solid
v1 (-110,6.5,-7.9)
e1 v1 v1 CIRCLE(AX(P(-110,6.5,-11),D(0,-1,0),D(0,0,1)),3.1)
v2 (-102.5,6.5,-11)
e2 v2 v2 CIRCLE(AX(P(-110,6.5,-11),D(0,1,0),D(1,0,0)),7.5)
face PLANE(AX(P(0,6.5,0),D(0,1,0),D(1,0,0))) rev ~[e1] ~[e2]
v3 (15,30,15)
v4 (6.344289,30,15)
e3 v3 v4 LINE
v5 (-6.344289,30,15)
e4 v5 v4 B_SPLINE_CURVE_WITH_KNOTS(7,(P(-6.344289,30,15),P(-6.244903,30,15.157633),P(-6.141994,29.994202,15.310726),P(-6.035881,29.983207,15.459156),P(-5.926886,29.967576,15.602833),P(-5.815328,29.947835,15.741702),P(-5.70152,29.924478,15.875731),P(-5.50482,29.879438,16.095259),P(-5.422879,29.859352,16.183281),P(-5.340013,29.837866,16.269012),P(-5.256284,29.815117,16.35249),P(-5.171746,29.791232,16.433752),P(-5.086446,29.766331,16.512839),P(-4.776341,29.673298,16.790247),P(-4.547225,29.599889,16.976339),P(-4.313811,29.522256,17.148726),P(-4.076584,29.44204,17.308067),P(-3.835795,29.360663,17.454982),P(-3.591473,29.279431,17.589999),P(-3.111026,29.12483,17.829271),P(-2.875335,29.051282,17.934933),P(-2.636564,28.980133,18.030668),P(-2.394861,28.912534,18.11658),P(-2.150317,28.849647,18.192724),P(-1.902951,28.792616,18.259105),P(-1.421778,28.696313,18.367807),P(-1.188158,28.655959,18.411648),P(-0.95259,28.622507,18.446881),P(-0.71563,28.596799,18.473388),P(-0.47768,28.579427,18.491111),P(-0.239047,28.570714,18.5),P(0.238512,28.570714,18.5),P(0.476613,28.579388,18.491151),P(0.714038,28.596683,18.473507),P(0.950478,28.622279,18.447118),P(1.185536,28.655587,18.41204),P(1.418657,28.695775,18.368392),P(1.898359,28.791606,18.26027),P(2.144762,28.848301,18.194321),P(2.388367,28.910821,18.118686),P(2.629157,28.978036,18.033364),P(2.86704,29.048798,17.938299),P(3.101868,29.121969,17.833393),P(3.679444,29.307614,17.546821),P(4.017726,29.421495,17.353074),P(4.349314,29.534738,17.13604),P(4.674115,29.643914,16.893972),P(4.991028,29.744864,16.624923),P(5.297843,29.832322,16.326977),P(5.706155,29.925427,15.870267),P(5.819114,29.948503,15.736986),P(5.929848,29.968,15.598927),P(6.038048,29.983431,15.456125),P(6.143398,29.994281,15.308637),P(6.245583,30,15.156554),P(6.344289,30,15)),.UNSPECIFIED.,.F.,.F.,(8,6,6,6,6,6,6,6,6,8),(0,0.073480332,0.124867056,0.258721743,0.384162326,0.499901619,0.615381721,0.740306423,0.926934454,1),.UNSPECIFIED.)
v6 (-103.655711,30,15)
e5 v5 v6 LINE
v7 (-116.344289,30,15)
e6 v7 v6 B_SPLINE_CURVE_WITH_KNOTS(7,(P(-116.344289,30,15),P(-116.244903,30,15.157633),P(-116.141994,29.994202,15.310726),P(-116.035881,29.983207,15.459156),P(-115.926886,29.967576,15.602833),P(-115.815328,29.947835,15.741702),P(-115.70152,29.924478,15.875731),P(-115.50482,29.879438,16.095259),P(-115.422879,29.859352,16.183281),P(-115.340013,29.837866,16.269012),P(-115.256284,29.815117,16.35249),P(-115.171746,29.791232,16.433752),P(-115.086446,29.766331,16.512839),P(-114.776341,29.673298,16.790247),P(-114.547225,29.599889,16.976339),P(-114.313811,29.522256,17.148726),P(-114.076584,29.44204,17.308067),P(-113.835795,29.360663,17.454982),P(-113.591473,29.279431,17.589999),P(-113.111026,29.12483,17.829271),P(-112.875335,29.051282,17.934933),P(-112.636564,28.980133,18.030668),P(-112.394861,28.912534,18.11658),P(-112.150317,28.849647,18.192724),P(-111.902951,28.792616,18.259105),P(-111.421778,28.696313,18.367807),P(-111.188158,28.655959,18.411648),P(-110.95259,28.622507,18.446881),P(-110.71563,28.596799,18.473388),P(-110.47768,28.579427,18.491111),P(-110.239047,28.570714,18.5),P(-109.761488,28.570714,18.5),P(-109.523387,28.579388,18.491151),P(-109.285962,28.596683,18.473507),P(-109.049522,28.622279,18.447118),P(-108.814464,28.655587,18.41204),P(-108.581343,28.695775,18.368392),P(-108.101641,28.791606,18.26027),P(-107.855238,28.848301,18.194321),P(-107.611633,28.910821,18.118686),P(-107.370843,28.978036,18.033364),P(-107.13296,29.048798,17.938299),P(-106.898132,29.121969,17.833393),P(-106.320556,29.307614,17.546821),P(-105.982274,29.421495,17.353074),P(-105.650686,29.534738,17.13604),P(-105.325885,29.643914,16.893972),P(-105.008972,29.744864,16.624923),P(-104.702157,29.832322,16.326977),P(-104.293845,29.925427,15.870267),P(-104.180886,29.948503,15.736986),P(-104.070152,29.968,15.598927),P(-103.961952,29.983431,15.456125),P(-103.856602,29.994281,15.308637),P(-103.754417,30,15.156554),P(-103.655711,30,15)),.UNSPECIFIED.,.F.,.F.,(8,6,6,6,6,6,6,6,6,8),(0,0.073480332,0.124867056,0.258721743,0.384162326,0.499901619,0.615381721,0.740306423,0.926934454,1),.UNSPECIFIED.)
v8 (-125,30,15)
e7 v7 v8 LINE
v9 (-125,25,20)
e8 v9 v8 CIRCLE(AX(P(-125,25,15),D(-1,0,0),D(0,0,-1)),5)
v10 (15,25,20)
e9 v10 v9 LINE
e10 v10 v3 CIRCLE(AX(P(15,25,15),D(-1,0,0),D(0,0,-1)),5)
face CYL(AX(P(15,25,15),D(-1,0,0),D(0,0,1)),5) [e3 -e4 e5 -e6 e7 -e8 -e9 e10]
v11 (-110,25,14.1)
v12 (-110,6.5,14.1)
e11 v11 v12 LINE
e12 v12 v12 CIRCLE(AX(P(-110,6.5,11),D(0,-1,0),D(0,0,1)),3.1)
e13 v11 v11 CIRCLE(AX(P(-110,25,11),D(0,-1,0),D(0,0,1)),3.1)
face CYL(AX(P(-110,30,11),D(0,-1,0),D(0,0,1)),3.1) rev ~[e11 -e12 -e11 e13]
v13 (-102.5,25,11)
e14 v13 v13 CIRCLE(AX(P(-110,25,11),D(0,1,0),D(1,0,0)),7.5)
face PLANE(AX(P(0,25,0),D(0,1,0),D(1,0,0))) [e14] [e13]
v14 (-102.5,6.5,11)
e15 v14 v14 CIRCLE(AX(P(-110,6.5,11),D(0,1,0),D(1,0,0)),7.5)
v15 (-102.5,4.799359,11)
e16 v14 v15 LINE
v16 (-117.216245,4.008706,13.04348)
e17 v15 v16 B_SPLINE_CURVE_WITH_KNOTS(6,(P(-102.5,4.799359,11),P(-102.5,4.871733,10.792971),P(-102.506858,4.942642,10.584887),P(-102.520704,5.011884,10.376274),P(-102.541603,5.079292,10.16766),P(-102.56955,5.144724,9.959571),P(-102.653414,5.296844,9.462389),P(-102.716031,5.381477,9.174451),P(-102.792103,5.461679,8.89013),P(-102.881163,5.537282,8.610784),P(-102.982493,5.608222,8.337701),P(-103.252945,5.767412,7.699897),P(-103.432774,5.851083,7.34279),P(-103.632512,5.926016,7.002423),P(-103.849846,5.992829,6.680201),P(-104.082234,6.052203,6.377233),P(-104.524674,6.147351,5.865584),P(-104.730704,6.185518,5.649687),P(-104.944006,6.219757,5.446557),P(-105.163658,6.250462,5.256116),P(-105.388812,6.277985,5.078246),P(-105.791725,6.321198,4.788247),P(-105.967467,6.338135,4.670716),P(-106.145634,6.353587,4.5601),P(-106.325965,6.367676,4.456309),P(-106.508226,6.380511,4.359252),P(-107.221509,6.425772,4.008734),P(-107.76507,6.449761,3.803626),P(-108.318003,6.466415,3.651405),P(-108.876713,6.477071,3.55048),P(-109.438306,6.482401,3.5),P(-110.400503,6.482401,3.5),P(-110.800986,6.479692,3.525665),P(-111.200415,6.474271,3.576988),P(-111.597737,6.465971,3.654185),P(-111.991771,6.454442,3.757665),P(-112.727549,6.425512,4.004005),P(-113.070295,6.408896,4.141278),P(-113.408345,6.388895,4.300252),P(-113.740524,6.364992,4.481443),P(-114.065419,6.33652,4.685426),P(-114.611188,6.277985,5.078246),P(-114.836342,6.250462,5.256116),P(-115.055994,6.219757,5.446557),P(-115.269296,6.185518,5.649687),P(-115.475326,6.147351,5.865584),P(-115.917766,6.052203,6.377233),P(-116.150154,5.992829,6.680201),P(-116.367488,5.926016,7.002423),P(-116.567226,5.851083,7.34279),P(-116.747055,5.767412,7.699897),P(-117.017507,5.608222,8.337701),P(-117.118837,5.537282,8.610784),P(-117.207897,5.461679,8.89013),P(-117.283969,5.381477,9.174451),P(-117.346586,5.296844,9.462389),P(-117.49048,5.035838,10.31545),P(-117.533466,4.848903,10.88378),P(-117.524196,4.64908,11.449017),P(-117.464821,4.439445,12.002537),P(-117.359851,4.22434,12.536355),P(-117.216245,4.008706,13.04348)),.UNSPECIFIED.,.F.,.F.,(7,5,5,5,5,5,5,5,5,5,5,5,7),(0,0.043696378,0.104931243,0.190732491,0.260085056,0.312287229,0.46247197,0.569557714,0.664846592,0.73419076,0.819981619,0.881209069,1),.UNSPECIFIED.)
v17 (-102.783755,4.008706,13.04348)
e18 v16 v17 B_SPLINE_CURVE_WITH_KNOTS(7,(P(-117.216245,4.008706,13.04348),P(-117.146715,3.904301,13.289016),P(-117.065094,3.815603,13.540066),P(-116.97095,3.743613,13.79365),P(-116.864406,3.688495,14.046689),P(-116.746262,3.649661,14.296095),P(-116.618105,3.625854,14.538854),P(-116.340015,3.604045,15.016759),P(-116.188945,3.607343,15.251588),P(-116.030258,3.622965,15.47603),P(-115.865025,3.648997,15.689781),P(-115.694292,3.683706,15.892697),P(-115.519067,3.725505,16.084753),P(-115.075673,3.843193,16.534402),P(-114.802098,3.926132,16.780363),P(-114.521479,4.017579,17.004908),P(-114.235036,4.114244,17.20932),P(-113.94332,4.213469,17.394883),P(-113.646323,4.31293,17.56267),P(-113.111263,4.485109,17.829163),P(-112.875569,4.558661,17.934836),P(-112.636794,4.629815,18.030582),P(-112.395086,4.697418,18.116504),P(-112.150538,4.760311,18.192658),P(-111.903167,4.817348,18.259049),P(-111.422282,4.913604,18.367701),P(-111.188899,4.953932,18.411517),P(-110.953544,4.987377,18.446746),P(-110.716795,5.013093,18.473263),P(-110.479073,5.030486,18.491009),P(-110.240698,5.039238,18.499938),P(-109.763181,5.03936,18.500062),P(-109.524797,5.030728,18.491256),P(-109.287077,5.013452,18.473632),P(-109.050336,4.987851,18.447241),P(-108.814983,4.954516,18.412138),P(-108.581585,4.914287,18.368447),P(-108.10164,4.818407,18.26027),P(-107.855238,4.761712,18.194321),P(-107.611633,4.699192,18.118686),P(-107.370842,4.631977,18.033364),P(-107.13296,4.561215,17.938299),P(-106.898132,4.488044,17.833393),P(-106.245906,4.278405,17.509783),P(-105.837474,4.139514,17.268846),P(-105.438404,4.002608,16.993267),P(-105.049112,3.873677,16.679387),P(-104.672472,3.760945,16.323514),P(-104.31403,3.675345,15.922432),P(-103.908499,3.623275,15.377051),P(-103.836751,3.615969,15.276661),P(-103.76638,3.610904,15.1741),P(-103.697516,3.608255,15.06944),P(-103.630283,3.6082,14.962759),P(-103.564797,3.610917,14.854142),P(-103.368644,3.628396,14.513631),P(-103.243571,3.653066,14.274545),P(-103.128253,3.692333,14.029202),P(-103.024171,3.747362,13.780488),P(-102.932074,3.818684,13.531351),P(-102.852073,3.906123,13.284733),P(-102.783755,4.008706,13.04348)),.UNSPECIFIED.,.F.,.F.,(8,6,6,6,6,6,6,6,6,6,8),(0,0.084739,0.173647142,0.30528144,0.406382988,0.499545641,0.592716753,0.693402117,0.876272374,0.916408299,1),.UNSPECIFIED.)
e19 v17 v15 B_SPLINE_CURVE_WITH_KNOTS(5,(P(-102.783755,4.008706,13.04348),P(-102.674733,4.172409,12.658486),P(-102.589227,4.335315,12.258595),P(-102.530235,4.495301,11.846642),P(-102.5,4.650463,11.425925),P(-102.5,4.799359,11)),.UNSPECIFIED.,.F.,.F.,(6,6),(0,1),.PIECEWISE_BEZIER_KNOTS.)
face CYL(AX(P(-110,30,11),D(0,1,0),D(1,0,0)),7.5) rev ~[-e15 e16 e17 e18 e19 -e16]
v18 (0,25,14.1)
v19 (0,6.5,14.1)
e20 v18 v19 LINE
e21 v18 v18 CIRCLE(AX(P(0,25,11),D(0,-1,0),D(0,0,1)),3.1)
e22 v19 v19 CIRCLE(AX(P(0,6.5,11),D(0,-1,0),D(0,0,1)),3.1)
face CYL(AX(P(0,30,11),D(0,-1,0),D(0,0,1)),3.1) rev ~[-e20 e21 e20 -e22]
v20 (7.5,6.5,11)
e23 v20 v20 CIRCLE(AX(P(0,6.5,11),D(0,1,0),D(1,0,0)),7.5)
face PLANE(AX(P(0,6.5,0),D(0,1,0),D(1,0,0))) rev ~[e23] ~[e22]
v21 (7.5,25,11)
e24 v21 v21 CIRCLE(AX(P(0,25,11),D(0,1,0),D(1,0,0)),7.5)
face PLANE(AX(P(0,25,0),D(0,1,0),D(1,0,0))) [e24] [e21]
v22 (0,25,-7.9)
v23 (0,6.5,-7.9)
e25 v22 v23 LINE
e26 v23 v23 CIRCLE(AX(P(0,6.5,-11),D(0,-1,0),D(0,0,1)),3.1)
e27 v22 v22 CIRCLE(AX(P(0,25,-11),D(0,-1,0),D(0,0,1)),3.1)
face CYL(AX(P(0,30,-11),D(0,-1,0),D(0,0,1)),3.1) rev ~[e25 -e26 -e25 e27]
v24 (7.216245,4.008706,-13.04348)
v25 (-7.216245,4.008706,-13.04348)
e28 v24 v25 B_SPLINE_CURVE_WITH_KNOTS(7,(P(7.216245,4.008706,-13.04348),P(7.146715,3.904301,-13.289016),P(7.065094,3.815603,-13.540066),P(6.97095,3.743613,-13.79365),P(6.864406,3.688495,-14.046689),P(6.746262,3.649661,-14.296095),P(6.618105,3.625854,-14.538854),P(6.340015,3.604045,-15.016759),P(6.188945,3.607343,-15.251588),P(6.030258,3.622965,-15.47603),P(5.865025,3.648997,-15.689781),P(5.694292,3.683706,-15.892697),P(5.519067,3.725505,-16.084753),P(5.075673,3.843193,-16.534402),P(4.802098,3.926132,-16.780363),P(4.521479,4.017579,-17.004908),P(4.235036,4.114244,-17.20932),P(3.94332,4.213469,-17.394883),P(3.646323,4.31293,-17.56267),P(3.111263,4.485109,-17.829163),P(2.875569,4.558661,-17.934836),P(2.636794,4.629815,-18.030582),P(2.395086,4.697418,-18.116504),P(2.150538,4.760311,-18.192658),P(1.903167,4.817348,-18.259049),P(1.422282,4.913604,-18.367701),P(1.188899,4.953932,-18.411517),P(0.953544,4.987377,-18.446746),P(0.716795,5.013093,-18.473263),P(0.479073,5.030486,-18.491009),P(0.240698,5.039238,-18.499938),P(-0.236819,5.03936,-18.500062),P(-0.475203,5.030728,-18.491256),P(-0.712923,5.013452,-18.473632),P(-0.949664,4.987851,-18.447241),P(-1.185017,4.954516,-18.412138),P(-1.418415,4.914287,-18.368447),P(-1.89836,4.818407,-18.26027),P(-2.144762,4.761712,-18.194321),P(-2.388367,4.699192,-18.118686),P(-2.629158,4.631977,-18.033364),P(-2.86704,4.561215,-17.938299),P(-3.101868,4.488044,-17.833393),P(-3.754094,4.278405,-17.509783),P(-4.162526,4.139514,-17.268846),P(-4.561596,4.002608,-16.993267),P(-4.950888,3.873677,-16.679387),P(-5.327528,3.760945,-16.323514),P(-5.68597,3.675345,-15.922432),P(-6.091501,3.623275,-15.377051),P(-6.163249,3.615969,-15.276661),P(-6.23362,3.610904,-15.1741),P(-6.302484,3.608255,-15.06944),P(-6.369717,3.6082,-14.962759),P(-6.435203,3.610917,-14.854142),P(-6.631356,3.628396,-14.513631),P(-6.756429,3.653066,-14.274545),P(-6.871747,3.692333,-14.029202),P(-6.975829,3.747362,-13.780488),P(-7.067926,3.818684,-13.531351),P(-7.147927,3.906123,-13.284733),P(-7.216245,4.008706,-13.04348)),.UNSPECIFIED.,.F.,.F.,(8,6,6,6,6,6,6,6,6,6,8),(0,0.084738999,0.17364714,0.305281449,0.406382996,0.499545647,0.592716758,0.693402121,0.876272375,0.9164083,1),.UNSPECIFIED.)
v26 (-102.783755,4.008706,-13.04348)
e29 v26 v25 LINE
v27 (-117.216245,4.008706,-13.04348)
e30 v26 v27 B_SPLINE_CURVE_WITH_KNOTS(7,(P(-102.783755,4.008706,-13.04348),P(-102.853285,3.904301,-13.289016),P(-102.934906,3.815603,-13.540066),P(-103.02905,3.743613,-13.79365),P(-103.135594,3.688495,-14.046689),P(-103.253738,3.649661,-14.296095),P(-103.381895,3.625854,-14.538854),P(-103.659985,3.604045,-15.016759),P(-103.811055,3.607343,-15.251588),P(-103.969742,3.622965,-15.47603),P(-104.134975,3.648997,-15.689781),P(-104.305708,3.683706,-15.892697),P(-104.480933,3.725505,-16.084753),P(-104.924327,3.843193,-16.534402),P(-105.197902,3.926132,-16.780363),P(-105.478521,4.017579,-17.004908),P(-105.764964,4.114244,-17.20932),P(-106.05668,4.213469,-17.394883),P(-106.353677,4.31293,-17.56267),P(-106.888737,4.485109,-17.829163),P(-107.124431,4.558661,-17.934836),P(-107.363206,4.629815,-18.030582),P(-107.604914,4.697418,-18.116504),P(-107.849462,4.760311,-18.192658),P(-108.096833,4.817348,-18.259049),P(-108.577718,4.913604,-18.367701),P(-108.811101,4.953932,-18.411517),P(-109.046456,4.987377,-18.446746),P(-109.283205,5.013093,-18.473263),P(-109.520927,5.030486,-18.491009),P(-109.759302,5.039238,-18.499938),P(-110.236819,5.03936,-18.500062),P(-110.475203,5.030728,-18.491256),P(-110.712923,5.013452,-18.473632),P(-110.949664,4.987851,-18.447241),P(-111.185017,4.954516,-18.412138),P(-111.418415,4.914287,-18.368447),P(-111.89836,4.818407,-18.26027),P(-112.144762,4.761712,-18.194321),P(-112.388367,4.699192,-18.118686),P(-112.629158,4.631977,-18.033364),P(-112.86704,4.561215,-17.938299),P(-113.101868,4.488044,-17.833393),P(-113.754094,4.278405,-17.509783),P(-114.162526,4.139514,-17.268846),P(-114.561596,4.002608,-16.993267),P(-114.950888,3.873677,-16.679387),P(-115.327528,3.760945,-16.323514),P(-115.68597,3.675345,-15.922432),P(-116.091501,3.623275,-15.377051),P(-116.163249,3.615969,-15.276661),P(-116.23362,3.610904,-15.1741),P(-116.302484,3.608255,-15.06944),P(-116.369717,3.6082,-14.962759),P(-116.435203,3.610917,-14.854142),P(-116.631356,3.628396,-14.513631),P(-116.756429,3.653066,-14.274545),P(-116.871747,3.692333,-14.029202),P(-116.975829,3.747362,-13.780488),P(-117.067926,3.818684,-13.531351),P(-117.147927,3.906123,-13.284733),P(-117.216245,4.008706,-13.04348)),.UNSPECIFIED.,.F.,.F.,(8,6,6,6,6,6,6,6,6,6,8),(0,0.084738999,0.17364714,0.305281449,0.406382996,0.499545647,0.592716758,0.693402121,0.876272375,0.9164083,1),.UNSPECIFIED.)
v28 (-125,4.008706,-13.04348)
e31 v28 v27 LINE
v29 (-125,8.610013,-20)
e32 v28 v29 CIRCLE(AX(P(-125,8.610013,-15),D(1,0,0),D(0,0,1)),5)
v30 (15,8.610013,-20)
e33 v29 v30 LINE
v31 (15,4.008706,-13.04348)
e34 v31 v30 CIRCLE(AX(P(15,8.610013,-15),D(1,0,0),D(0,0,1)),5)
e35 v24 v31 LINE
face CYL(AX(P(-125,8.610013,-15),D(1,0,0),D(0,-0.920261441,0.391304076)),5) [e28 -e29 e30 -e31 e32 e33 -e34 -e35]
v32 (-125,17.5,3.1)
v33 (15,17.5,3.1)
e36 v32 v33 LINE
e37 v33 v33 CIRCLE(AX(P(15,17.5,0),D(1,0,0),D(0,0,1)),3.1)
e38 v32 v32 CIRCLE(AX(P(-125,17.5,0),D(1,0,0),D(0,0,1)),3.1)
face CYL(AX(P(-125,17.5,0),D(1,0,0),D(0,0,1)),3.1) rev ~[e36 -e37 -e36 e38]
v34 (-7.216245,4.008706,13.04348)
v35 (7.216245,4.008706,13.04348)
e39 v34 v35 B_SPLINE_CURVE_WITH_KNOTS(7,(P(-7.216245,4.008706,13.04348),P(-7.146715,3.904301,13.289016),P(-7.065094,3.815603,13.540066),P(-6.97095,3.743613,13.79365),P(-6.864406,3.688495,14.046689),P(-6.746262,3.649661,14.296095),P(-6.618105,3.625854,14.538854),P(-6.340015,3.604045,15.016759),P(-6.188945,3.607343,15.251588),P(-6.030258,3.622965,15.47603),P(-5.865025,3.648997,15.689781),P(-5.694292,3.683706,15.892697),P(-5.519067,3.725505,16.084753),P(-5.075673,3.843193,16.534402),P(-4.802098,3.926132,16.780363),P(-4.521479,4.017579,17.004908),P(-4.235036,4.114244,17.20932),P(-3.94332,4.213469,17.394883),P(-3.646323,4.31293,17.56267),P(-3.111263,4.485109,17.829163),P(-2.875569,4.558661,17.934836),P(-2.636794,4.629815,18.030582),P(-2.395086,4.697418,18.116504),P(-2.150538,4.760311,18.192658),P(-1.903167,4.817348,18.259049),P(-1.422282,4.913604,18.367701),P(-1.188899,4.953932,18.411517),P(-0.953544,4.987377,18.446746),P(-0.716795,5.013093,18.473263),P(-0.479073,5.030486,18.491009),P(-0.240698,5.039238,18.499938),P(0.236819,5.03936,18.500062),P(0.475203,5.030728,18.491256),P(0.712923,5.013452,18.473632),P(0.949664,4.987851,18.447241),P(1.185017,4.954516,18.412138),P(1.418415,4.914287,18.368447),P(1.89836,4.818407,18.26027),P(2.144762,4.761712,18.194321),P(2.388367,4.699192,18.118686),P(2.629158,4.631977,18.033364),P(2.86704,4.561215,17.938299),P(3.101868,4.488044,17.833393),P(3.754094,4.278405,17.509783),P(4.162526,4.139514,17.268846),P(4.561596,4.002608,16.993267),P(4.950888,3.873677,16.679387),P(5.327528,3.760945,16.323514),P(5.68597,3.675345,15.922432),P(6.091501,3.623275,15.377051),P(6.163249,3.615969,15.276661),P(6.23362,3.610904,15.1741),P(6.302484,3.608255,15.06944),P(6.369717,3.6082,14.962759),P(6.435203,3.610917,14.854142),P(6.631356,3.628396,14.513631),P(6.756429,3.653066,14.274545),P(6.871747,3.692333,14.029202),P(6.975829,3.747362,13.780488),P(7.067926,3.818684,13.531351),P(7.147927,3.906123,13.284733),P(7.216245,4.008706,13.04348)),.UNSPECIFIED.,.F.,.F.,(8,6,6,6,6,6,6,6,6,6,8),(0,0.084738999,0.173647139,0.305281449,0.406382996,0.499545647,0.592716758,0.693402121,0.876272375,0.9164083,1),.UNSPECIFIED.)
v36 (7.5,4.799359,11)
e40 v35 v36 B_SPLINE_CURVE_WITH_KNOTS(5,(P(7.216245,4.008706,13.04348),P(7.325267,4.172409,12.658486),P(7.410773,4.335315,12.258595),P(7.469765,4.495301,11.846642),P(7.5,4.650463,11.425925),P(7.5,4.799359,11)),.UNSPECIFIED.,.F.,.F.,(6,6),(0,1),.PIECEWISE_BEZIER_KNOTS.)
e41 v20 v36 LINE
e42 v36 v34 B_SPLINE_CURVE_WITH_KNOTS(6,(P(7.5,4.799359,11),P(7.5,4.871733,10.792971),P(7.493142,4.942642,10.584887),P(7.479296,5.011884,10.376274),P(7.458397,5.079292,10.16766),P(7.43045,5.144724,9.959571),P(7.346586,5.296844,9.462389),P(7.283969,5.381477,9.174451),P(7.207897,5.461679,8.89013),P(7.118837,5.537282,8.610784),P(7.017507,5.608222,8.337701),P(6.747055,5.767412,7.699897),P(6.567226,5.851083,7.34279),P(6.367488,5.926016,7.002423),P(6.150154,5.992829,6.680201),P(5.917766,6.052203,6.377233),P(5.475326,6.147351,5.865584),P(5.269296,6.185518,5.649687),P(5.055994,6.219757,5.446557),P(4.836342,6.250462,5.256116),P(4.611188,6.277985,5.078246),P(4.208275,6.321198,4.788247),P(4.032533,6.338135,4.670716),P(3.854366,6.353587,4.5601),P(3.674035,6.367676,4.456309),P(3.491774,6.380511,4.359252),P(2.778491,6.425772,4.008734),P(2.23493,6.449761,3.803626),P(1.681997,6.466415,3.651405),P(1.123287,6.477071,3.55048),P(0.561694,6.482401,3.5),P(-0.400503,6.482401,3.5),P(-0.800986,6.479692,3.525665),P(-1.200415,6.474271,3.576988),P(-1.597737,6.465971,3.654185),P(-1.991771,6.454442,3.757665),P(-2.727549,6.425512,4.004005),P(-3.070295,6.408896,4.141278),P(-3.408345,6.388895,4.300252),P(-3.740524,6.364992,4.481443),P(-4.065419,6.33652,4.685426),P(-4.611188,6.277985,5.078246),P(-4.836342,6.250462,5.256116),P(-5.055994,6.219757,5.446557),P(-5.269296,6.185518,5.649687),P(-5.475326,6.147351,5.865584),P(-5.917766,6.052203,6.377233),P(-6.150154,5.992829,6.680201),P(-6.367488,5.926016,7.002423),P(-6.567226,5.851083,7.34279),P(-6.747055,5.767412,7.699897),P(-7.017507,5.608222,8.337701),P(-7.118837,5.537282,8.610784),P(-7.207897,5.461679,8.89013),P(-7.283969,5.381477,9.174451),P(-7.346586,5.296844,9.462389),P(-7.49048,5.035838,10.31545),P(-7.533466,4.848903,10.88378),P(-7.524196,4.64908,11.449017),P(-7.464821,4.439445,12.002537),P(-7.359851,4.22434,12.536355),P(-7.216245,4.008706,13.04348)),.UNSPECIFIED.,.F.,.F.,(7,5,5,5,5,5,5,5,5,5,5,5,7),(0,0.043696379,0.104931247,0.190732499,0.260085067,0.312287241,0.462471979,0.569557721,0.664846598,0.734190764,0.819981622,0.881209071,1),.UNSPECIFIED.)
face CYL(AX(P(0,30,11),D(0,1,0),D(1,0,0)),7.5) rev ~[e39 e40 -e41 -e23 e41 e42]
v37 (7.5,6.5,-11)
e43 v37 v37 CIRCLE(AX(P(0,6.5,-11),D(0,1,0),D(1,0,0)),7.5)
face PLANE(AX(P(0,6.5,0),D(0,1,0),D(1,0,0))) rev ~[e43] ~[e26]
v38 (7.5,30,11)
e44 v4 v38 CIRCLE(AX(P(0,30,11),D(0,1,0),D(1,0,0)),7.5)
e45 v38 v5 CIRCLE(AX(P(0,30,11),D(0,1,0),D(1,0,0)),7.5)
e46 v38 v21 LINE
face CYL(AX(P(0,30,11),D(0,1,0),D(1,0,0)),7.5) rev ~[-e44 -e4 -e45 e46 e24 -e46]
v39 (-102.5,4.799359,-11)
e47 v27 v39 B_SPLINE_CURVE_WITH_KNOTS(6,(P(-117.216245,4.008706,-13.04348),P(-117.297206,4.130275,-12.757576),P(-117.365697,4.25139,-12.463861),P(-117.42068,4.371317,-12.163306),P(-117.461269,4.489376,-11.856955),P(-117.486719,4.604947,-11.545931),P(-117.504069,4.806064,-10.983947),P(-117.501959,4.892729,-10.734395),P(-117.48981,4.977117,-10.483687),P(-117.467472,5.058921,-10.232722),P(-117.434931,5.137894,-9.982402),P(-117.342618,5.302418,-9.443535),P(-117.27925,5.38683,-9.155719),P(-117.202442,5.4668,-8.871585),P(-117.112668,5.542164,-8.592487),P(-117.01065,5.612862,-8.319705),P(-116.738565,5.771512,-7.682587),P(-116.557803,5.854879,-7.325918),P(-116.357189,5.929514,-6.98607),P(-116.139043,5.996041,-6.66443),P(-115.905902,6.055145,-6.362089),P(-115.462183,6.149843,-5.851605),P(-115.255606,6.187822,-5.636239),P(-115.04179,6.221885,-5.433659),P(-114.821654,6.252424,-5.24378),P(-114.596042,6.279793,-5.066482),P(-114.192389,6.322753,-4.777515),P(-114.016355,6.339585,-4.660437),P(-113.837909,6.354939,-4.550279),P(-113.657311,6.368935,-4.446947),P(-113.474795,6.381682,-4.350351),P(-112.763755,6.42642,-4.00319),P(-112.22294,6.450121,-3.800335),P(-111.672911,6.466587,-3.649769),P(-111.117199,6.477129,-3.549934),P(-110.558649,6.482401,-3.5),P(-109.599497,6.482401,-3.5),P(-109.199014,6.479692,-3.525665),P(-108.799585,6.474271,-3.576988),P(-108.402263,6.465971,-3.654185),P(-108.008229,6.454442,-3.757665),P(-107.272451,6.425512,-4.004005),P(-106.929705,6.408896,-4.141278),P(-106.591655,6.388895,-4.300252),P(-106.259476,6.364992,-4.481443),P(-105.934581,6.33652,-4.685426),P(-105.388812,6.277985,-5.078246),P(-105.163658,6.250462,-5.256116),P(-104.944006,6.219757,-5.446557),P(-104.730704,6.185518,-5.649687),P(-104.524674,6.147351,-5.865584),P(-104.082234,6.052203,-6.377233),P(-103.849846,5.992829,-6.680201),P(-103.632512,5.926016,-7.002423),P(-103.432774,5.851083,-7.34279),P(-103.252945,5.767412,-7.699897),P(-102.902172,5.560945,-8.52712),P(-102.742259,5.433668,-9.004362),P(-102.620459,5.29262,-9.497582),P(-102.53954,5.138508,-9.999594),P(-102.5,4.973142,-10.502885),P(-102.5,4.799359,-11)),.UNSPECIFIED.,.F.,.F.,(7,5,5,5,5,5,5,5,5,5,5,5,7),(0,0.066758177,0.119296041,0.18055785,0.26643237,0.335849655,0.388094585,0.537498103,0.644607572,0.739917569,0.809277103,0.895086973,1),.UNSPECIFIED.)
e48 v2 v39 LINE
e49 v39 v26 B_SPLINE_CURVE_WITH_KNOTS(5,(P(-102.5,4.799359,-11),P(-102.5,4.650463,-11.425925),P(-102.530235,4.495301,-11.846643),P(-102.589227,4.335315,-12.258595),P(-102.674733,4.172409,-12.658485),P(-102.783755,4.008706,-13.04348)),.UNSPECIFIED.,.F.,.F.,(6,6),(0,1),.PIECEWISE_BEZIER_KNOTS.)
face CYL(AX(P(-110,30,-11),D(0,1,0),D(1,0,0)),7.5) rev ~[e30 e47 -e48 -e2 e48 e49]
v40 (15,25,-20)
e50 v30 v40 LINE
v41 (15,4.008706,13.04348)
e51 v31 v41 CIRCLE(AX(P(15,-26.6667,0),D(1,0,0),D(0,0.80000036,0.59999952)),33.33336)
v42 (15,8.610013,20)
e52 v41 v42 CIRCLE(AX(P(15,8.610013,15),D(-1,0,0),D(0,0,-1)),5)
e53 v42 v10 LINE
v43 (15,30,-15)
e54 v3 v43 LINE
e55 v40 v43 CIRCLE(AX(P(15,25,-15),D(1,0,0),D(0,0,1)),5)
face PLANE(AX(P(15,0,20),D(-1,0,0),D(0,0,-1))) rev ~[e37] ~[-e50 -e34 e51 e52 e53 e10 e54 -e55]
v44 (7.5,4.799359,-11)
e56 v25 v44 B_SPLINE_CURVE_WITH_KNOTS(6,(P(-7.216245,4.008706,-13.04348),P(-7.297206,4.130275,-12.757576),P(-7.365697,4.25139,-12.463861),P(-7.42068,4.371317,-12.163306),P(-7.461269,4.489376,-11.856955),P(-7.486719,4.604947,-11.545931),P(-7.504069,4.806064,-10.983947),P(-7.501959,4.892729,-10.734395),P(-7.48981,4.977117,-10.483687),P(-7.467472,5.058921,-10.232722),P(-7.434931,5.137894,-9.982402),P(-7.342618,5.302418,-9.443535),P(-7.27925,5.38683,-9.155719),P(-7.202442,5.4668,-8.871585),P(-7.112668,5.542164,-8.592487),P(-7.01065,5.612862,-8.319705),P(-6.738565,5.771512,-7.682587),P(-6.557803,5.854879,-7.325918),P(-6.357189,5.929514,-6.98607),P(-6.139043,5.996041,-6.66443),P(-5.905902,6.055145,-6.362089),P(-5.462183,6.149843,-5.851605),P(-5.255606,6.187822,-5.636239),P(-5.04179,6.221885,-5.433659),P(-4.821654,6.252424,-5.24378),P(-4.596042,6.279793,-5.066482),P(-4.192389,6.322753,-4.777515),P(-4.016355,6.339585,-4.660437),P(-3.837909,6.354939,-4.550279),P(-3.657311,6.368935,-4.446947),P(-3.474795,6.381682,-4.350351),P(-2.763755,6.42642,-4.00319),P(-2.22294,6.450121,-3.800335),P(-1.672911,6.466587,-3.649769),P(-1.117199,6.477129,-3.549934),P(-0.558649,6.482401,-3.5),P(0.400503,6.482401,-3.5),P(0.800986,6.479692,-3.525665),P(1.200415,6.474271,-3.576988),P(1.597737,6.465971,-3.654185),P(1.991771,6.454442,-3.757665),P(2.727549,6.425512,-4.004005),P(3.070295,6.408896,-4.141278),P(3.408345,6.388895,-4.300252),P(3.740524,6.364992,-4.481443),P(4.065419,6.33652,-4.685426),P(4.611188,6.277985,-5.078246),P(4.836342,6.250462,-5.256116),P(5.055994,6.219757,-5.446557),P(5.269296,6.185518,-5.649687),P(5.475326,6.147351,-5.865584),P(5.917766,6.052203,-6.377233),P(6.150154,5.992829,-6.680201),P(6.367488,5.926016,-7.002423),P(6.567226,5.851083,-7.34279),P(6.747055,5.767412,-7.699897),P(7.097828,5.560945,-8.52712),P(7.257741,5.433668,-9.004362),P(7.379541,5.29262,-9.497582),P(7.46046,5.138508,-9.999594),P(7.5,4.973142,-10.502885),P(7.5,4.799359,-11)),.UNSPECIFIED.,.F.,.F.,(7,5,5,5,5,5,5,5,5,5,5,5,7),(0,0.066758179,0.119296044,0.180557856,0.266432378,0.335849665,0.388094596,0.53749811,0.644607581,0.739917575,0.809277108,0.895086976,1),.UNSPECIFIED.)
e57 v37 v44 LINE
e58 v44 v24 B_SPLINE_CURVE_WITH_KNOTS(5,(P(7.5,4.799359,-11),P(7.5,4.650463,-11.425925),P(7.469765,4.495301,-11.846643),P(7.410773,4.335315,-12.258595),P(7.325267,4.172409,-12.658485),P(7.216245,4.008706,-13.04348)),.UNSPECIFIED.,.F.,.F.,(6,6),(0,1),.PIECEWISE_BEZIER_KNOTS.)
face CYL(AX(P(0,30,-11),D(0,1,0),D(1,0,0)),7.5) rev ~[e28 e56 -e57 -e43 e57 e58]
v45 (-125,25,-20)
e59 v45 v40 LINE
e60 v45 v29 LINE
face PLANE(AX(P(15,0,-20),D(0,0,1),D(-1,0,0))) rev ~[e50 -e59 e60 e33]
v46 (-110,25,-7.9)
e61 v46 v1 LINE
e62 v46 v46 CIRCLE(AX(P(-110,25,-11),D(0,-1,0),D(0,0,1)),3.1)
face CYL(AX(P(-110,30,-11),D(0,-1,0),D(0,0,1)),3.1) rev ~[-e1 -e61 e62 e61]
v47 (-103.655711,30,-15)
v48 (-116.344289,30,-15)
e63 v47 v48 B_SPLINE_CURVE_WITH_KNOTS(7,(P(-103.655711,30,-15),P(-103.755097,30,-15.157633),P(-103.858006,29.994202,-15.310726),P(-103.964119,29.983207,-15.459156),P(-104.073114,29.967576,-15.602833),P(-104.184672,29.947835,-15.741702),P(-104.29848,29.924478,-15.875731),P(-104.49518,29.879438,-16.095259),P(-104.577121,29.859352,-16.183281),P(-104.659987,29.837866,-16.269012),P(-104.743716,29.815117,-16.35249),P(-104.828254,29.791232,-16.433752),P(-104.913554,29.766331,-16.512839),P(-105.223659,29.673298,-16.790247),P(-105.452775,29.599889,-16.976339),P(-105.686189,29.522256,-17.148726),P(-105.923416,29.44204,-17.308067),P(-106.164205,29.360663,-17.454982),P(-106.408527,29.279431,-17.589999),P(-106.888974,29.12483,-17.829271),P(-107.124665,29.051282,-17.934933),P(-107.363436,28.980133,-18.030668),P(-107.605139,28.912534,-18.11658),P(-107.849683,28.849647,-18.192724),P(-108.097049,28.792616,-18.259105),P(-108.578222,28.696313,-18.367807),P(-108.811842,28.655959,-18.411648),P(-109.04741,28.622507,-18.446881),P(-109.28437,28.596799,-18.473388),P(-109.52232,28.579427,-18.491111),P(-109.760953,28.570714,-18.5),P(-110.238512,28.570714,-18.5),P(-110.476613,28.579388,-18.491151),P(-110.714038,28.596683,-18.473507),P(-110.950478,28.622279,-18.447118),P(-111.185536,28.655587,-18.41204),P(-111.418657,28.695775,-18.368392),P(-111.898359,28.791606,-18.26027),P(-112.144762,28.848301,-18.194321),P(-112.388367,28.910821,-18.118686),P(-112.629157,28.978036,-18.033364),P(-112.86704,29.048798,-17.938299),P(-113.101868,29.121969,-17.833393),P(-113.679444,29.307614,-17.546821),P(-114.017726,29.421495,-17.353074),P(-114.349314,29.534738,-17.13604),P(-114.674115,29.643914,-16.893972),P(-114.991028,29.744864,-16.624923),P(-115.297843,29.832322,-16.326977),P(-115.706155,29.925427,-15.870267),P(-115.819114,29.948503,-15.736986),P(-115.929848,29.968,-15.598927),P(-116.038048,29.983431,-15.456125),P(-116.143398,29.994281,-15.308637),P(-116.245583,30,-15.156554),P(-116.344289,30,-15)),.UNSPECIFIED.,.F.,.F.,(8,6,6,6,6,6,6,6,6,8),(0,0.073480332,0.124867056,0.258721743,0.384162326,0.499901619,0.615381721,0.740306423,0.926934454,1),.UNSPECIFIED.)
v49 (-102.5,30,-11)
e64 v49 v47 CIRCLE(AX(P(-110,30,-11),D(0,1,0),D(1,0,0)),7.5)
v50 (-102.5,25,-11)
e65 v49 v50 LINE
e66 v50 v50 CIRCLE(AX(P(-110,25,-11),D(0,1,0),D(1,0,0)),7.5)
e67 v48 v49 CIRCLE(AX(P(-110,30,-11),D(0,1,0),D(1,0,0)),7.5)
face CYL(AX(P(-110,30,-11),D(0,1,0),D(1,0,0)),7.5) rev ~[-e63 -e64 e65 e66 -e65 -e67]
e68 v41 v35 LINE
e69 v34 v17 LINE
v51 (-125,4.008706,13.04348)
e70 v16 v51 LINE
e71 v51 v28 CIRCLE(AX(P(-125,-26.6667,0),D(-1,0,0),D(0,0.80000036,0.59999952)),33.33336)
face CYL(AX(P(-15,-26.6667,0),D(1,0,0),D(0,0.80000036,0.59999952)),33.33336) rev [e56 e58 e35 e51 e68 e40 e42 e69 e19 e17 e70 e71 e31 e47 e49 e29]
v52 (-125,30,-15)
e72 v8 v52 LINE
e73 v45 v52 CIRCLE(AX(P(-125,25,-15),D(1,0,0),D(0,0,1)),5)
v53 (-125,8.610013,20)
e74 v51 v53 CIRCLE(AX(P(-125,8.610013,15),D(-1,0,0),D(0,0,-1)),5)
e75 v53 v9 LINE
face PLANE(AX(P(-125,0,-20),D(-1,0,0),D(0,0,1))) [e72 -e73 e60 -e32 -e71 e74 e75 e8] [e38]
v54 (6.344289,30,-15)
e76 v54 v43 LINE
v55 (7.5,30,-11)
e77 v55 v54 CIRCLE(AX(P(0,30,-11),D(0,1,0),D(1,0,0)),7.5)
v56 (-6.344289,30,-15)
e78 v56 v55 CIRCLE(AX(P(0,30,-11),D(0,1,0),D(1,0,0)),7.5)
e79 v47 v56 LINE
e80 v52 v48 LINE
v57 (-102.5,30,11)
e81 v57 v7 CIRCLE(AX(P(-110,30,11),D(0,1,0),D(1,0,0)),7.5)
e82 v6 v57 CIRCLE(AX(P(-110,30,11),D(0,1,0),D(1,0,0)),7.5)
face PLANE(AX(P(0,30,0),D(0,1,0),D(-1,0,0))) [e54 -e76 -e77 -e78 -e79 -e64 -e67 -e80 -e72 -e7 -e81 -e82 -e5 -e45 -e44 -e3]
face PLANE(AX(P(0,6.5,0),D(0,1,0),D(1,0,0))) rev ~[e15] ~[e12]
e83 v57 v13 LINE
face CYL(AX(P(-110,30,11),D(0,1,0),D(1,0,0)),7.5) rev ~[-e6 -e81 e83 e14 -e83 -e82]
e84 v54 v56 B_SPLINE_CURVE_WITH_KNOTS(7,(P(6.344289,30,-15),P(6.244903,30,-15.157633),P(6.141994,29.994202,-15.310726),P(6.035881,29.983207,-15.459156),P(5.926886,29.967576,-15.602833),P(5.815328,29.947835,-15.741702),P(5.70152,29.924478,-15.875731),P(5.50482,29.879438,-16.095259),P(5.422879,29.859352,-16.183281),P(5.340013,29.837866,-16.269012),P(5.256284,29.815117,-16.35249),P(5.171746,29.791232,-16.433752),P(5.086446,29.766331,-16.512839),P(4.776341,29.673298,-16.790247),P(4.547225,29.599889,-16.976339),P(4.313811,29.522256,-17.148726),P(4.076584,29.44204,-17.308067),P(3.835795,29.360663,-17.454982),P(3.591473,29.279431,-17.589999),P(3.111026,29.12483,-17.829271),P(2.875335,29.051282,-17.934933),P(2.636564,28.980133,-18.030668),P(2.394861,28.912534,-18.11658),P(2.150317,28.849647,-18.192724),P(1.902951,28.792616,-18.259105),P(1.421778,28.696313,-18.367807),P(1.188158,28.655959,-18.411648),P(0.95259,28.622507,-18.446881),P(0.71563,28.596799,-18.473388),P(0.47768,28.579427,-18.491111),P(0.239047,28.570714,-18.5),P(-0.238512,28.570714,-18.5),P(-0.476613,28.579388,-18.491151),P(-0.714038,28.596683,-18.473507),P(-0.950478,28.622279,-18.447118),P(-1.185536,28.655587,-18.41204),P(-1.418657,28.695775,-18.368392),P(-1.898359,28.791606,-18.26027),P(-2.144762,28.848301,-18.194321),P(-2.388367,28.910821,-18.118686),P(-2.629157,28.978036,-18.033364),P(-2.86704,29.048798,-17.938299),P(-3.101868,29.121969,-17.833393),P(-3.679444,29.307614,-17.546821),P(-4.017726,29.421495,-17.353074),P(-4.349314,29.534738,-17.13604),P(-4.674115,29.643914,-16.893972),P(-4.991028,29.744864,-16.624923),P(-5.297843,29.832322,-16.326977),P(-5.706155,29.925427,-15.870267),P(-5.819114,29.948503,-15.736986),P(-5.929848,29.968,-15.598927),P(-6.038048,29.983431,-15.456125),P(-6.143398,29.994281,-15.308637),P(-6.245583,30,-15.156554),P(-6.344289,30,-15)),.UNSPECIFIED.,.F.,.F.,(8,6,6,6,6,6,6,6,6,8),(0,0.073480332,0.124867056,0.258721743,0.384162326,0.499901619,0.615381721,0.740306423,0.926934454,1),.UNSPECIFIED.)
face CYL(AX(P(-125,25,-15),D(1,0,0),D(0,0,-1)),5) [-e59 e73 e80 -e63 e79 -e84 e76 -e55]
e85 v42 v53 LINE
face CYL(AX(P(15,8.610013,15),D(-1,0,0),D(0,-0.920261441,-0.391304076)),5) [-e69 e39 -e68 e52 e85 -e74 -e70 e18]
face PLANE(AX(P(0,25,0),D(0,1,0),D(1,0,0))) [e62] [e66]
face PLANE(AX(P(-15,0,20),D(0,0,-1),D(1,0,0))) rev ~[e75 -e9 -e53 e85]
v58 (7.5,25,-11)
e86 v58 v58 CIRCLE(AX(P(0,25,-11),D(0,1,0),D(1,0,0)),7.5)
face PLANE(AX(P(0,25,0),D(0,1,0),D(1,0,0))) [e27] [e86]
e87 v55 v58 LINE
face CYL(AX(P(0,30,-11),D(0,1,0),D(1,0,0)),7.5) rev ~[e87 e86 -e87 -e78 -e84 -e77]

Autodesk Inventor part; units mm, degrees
ref_plane "YZ Plane" through (0, 0, 0) normal (1, 0, 0) x (0, 1, 0)
ref_plane "XZ Plane" through (0, 0, 0) normal (0, 1, 0) x (-1, 0, 0)
ref_plane "XY Plane" through (0, 0, 0) normal (0, 0, 1) x (1, 0, 0)
sketch "Szkic1" plane through (0, 0, 0) normal (0, 1, 0) x (-1, 0, 0)
  line L0 (15, 20) -> (-15, 20)
  line L1 (-15, 20) -> (-15, -20)
  line L2 (-15, -20) -> (15, -20)
  line L3 (15, -20) -> (15, 20)
  line L4 (15, 20) -> (-15, -20) construction
  line L5 (-15, 20) -> (15, -20) construction
  line L6 (0, -28) -> (0, 28) construction
  line L7 (21, 0) -> (-21, 0) construction
  point P0 (0, 0)
  dimension "d0" = 30
  dimension "d1" = 40
extrude "Wyciągnięcie proste1" add sketch "Szkic1" along normal blind 30
sketch "Szkic2" plane through (-15, 0, -20) normal (-1, 0, 0) x (0, 0, 1)
  line L0 (-8, 0) -> (48, 0) construction
  line L1 (20, -6) -> (20, 36) construction
  line L2 (40, 30) -> (0, 30)
  line L3 (0, 30) -> (0, 0)
  line L4 (0, 0) -> (40, 0)
  line L5 (40, 0) -> (40, 30)
  line L6 (40, 30) -> (0, 0) construction
  line L7 (0, 30) -> (40, 0) construction
  line L8 (0, 0) -> (40, 0) projected
  arc A0 (40, 0) -> (0, 0) centre (20, -26.6667) ccw
  point P0 (20, 0)
  point P1 (20, 15)
  point P2 (20, 0)
  point P3 (0, 0)
  point P4 (0, 0)
  dimension "d4" = 40
  dimension "d5" = 30
  dimension "d6" = 15
extrude "Wyciągnięcie proste2" add sketch "Szkic2" along normal blind 110 contours L5 A0 L3 L2
extrude "Wyciągnięcie proste3" cut sketch "Szkic2" along normal through all both and the other way through all contours L4 A0
fillet "Zaokrąglenie1" radius 5 5 edges at (0, 0, 20) (-70, 0, 20) (0, 0, -20) (-55, 30, 20) (-55, 30, -20)
sketch "Szkic3" plane through (0, 30, 0) normal (0, 1, 0) x (1, 0, 0)
  line L0 (-153, 0) -> (43, 0) construction
  line L1 (0, 28) -> (0, -28) construction
  circle A0 centre (0, 11) radius 7.5
  circle A1 centre (0, 11) radius 3.05
  circle A2 centre (0, -11) radius 7.5
  circle A3 centre (0, -11) radius 3.05
  line L2 (0, 0) -> (-55, 0) construction
  line L3 (-125, 15) -> (15, 15) construction
  line L4 (-55, 0) -> (-55, 30) construction
  circle A4 centre (-110, 11) radius 7.5
  circle A5 centre (-110, 11) radius 3.05
  circle A6 centre (-110, -11) radius 7.5
  circle A7 centre (-110, -11) radius 3.05
  dimension "d12" = 15
  dimension "d13" = 6.1
  dimension "d14" = 11
  dimension "d21" = 55
  dimension "d23" = 30
extrude "Wyciągnięcie proste4" cut sketch "Szkic3" against normal through all contours A0 | A1 | A2 | A3 | A4 | A5 | A6 | A7
extrude "Wyciągnięcie proste5" add sketch "Szkic3" against normal blind 23.5
extrude "Wyciągnięcie proste6" cut sketch "Szkic3" against normal blind 5
sketch "Szkic5" plane through (0, 30, 0) normal (0, 1, 0) x (1, 0, 0)
  point P0 (0, 0)
sketch "Szkic6" plane through (-125, 0, -20) normal (-1, 0, 0) x (0, 0, 1)
  line L0 (-8, 0) -> (48, 0) construction
  line L1 (20, -6.0006) -> (20, 36.0033) construction
  circle A0 centre (20, 17.5) radius 7.5
  circle A1 centre (20, 17.5) radius 3.05
  point P0 (20, 0)
  dimension "d24" = 15
  dimension "d25" = 6.1
  dimension "d26" = 17.5
extrude "Wyciągnięcie proste7" cut sketch "Szkic6" against normal through all contours A1
hole "Otwór1" at (-110, 30, 11) at (-110, 30, -11) at (0, 30, 11) at (0, 30, -11) direction (0, -1, 0) diameter 6.2 end through all
hole "Otwór2" at (-125, 17.5, 0) direction (1, 0, 0) diameter 6.2 end through all
properties part number "uMule-ogranicznik_koła"
